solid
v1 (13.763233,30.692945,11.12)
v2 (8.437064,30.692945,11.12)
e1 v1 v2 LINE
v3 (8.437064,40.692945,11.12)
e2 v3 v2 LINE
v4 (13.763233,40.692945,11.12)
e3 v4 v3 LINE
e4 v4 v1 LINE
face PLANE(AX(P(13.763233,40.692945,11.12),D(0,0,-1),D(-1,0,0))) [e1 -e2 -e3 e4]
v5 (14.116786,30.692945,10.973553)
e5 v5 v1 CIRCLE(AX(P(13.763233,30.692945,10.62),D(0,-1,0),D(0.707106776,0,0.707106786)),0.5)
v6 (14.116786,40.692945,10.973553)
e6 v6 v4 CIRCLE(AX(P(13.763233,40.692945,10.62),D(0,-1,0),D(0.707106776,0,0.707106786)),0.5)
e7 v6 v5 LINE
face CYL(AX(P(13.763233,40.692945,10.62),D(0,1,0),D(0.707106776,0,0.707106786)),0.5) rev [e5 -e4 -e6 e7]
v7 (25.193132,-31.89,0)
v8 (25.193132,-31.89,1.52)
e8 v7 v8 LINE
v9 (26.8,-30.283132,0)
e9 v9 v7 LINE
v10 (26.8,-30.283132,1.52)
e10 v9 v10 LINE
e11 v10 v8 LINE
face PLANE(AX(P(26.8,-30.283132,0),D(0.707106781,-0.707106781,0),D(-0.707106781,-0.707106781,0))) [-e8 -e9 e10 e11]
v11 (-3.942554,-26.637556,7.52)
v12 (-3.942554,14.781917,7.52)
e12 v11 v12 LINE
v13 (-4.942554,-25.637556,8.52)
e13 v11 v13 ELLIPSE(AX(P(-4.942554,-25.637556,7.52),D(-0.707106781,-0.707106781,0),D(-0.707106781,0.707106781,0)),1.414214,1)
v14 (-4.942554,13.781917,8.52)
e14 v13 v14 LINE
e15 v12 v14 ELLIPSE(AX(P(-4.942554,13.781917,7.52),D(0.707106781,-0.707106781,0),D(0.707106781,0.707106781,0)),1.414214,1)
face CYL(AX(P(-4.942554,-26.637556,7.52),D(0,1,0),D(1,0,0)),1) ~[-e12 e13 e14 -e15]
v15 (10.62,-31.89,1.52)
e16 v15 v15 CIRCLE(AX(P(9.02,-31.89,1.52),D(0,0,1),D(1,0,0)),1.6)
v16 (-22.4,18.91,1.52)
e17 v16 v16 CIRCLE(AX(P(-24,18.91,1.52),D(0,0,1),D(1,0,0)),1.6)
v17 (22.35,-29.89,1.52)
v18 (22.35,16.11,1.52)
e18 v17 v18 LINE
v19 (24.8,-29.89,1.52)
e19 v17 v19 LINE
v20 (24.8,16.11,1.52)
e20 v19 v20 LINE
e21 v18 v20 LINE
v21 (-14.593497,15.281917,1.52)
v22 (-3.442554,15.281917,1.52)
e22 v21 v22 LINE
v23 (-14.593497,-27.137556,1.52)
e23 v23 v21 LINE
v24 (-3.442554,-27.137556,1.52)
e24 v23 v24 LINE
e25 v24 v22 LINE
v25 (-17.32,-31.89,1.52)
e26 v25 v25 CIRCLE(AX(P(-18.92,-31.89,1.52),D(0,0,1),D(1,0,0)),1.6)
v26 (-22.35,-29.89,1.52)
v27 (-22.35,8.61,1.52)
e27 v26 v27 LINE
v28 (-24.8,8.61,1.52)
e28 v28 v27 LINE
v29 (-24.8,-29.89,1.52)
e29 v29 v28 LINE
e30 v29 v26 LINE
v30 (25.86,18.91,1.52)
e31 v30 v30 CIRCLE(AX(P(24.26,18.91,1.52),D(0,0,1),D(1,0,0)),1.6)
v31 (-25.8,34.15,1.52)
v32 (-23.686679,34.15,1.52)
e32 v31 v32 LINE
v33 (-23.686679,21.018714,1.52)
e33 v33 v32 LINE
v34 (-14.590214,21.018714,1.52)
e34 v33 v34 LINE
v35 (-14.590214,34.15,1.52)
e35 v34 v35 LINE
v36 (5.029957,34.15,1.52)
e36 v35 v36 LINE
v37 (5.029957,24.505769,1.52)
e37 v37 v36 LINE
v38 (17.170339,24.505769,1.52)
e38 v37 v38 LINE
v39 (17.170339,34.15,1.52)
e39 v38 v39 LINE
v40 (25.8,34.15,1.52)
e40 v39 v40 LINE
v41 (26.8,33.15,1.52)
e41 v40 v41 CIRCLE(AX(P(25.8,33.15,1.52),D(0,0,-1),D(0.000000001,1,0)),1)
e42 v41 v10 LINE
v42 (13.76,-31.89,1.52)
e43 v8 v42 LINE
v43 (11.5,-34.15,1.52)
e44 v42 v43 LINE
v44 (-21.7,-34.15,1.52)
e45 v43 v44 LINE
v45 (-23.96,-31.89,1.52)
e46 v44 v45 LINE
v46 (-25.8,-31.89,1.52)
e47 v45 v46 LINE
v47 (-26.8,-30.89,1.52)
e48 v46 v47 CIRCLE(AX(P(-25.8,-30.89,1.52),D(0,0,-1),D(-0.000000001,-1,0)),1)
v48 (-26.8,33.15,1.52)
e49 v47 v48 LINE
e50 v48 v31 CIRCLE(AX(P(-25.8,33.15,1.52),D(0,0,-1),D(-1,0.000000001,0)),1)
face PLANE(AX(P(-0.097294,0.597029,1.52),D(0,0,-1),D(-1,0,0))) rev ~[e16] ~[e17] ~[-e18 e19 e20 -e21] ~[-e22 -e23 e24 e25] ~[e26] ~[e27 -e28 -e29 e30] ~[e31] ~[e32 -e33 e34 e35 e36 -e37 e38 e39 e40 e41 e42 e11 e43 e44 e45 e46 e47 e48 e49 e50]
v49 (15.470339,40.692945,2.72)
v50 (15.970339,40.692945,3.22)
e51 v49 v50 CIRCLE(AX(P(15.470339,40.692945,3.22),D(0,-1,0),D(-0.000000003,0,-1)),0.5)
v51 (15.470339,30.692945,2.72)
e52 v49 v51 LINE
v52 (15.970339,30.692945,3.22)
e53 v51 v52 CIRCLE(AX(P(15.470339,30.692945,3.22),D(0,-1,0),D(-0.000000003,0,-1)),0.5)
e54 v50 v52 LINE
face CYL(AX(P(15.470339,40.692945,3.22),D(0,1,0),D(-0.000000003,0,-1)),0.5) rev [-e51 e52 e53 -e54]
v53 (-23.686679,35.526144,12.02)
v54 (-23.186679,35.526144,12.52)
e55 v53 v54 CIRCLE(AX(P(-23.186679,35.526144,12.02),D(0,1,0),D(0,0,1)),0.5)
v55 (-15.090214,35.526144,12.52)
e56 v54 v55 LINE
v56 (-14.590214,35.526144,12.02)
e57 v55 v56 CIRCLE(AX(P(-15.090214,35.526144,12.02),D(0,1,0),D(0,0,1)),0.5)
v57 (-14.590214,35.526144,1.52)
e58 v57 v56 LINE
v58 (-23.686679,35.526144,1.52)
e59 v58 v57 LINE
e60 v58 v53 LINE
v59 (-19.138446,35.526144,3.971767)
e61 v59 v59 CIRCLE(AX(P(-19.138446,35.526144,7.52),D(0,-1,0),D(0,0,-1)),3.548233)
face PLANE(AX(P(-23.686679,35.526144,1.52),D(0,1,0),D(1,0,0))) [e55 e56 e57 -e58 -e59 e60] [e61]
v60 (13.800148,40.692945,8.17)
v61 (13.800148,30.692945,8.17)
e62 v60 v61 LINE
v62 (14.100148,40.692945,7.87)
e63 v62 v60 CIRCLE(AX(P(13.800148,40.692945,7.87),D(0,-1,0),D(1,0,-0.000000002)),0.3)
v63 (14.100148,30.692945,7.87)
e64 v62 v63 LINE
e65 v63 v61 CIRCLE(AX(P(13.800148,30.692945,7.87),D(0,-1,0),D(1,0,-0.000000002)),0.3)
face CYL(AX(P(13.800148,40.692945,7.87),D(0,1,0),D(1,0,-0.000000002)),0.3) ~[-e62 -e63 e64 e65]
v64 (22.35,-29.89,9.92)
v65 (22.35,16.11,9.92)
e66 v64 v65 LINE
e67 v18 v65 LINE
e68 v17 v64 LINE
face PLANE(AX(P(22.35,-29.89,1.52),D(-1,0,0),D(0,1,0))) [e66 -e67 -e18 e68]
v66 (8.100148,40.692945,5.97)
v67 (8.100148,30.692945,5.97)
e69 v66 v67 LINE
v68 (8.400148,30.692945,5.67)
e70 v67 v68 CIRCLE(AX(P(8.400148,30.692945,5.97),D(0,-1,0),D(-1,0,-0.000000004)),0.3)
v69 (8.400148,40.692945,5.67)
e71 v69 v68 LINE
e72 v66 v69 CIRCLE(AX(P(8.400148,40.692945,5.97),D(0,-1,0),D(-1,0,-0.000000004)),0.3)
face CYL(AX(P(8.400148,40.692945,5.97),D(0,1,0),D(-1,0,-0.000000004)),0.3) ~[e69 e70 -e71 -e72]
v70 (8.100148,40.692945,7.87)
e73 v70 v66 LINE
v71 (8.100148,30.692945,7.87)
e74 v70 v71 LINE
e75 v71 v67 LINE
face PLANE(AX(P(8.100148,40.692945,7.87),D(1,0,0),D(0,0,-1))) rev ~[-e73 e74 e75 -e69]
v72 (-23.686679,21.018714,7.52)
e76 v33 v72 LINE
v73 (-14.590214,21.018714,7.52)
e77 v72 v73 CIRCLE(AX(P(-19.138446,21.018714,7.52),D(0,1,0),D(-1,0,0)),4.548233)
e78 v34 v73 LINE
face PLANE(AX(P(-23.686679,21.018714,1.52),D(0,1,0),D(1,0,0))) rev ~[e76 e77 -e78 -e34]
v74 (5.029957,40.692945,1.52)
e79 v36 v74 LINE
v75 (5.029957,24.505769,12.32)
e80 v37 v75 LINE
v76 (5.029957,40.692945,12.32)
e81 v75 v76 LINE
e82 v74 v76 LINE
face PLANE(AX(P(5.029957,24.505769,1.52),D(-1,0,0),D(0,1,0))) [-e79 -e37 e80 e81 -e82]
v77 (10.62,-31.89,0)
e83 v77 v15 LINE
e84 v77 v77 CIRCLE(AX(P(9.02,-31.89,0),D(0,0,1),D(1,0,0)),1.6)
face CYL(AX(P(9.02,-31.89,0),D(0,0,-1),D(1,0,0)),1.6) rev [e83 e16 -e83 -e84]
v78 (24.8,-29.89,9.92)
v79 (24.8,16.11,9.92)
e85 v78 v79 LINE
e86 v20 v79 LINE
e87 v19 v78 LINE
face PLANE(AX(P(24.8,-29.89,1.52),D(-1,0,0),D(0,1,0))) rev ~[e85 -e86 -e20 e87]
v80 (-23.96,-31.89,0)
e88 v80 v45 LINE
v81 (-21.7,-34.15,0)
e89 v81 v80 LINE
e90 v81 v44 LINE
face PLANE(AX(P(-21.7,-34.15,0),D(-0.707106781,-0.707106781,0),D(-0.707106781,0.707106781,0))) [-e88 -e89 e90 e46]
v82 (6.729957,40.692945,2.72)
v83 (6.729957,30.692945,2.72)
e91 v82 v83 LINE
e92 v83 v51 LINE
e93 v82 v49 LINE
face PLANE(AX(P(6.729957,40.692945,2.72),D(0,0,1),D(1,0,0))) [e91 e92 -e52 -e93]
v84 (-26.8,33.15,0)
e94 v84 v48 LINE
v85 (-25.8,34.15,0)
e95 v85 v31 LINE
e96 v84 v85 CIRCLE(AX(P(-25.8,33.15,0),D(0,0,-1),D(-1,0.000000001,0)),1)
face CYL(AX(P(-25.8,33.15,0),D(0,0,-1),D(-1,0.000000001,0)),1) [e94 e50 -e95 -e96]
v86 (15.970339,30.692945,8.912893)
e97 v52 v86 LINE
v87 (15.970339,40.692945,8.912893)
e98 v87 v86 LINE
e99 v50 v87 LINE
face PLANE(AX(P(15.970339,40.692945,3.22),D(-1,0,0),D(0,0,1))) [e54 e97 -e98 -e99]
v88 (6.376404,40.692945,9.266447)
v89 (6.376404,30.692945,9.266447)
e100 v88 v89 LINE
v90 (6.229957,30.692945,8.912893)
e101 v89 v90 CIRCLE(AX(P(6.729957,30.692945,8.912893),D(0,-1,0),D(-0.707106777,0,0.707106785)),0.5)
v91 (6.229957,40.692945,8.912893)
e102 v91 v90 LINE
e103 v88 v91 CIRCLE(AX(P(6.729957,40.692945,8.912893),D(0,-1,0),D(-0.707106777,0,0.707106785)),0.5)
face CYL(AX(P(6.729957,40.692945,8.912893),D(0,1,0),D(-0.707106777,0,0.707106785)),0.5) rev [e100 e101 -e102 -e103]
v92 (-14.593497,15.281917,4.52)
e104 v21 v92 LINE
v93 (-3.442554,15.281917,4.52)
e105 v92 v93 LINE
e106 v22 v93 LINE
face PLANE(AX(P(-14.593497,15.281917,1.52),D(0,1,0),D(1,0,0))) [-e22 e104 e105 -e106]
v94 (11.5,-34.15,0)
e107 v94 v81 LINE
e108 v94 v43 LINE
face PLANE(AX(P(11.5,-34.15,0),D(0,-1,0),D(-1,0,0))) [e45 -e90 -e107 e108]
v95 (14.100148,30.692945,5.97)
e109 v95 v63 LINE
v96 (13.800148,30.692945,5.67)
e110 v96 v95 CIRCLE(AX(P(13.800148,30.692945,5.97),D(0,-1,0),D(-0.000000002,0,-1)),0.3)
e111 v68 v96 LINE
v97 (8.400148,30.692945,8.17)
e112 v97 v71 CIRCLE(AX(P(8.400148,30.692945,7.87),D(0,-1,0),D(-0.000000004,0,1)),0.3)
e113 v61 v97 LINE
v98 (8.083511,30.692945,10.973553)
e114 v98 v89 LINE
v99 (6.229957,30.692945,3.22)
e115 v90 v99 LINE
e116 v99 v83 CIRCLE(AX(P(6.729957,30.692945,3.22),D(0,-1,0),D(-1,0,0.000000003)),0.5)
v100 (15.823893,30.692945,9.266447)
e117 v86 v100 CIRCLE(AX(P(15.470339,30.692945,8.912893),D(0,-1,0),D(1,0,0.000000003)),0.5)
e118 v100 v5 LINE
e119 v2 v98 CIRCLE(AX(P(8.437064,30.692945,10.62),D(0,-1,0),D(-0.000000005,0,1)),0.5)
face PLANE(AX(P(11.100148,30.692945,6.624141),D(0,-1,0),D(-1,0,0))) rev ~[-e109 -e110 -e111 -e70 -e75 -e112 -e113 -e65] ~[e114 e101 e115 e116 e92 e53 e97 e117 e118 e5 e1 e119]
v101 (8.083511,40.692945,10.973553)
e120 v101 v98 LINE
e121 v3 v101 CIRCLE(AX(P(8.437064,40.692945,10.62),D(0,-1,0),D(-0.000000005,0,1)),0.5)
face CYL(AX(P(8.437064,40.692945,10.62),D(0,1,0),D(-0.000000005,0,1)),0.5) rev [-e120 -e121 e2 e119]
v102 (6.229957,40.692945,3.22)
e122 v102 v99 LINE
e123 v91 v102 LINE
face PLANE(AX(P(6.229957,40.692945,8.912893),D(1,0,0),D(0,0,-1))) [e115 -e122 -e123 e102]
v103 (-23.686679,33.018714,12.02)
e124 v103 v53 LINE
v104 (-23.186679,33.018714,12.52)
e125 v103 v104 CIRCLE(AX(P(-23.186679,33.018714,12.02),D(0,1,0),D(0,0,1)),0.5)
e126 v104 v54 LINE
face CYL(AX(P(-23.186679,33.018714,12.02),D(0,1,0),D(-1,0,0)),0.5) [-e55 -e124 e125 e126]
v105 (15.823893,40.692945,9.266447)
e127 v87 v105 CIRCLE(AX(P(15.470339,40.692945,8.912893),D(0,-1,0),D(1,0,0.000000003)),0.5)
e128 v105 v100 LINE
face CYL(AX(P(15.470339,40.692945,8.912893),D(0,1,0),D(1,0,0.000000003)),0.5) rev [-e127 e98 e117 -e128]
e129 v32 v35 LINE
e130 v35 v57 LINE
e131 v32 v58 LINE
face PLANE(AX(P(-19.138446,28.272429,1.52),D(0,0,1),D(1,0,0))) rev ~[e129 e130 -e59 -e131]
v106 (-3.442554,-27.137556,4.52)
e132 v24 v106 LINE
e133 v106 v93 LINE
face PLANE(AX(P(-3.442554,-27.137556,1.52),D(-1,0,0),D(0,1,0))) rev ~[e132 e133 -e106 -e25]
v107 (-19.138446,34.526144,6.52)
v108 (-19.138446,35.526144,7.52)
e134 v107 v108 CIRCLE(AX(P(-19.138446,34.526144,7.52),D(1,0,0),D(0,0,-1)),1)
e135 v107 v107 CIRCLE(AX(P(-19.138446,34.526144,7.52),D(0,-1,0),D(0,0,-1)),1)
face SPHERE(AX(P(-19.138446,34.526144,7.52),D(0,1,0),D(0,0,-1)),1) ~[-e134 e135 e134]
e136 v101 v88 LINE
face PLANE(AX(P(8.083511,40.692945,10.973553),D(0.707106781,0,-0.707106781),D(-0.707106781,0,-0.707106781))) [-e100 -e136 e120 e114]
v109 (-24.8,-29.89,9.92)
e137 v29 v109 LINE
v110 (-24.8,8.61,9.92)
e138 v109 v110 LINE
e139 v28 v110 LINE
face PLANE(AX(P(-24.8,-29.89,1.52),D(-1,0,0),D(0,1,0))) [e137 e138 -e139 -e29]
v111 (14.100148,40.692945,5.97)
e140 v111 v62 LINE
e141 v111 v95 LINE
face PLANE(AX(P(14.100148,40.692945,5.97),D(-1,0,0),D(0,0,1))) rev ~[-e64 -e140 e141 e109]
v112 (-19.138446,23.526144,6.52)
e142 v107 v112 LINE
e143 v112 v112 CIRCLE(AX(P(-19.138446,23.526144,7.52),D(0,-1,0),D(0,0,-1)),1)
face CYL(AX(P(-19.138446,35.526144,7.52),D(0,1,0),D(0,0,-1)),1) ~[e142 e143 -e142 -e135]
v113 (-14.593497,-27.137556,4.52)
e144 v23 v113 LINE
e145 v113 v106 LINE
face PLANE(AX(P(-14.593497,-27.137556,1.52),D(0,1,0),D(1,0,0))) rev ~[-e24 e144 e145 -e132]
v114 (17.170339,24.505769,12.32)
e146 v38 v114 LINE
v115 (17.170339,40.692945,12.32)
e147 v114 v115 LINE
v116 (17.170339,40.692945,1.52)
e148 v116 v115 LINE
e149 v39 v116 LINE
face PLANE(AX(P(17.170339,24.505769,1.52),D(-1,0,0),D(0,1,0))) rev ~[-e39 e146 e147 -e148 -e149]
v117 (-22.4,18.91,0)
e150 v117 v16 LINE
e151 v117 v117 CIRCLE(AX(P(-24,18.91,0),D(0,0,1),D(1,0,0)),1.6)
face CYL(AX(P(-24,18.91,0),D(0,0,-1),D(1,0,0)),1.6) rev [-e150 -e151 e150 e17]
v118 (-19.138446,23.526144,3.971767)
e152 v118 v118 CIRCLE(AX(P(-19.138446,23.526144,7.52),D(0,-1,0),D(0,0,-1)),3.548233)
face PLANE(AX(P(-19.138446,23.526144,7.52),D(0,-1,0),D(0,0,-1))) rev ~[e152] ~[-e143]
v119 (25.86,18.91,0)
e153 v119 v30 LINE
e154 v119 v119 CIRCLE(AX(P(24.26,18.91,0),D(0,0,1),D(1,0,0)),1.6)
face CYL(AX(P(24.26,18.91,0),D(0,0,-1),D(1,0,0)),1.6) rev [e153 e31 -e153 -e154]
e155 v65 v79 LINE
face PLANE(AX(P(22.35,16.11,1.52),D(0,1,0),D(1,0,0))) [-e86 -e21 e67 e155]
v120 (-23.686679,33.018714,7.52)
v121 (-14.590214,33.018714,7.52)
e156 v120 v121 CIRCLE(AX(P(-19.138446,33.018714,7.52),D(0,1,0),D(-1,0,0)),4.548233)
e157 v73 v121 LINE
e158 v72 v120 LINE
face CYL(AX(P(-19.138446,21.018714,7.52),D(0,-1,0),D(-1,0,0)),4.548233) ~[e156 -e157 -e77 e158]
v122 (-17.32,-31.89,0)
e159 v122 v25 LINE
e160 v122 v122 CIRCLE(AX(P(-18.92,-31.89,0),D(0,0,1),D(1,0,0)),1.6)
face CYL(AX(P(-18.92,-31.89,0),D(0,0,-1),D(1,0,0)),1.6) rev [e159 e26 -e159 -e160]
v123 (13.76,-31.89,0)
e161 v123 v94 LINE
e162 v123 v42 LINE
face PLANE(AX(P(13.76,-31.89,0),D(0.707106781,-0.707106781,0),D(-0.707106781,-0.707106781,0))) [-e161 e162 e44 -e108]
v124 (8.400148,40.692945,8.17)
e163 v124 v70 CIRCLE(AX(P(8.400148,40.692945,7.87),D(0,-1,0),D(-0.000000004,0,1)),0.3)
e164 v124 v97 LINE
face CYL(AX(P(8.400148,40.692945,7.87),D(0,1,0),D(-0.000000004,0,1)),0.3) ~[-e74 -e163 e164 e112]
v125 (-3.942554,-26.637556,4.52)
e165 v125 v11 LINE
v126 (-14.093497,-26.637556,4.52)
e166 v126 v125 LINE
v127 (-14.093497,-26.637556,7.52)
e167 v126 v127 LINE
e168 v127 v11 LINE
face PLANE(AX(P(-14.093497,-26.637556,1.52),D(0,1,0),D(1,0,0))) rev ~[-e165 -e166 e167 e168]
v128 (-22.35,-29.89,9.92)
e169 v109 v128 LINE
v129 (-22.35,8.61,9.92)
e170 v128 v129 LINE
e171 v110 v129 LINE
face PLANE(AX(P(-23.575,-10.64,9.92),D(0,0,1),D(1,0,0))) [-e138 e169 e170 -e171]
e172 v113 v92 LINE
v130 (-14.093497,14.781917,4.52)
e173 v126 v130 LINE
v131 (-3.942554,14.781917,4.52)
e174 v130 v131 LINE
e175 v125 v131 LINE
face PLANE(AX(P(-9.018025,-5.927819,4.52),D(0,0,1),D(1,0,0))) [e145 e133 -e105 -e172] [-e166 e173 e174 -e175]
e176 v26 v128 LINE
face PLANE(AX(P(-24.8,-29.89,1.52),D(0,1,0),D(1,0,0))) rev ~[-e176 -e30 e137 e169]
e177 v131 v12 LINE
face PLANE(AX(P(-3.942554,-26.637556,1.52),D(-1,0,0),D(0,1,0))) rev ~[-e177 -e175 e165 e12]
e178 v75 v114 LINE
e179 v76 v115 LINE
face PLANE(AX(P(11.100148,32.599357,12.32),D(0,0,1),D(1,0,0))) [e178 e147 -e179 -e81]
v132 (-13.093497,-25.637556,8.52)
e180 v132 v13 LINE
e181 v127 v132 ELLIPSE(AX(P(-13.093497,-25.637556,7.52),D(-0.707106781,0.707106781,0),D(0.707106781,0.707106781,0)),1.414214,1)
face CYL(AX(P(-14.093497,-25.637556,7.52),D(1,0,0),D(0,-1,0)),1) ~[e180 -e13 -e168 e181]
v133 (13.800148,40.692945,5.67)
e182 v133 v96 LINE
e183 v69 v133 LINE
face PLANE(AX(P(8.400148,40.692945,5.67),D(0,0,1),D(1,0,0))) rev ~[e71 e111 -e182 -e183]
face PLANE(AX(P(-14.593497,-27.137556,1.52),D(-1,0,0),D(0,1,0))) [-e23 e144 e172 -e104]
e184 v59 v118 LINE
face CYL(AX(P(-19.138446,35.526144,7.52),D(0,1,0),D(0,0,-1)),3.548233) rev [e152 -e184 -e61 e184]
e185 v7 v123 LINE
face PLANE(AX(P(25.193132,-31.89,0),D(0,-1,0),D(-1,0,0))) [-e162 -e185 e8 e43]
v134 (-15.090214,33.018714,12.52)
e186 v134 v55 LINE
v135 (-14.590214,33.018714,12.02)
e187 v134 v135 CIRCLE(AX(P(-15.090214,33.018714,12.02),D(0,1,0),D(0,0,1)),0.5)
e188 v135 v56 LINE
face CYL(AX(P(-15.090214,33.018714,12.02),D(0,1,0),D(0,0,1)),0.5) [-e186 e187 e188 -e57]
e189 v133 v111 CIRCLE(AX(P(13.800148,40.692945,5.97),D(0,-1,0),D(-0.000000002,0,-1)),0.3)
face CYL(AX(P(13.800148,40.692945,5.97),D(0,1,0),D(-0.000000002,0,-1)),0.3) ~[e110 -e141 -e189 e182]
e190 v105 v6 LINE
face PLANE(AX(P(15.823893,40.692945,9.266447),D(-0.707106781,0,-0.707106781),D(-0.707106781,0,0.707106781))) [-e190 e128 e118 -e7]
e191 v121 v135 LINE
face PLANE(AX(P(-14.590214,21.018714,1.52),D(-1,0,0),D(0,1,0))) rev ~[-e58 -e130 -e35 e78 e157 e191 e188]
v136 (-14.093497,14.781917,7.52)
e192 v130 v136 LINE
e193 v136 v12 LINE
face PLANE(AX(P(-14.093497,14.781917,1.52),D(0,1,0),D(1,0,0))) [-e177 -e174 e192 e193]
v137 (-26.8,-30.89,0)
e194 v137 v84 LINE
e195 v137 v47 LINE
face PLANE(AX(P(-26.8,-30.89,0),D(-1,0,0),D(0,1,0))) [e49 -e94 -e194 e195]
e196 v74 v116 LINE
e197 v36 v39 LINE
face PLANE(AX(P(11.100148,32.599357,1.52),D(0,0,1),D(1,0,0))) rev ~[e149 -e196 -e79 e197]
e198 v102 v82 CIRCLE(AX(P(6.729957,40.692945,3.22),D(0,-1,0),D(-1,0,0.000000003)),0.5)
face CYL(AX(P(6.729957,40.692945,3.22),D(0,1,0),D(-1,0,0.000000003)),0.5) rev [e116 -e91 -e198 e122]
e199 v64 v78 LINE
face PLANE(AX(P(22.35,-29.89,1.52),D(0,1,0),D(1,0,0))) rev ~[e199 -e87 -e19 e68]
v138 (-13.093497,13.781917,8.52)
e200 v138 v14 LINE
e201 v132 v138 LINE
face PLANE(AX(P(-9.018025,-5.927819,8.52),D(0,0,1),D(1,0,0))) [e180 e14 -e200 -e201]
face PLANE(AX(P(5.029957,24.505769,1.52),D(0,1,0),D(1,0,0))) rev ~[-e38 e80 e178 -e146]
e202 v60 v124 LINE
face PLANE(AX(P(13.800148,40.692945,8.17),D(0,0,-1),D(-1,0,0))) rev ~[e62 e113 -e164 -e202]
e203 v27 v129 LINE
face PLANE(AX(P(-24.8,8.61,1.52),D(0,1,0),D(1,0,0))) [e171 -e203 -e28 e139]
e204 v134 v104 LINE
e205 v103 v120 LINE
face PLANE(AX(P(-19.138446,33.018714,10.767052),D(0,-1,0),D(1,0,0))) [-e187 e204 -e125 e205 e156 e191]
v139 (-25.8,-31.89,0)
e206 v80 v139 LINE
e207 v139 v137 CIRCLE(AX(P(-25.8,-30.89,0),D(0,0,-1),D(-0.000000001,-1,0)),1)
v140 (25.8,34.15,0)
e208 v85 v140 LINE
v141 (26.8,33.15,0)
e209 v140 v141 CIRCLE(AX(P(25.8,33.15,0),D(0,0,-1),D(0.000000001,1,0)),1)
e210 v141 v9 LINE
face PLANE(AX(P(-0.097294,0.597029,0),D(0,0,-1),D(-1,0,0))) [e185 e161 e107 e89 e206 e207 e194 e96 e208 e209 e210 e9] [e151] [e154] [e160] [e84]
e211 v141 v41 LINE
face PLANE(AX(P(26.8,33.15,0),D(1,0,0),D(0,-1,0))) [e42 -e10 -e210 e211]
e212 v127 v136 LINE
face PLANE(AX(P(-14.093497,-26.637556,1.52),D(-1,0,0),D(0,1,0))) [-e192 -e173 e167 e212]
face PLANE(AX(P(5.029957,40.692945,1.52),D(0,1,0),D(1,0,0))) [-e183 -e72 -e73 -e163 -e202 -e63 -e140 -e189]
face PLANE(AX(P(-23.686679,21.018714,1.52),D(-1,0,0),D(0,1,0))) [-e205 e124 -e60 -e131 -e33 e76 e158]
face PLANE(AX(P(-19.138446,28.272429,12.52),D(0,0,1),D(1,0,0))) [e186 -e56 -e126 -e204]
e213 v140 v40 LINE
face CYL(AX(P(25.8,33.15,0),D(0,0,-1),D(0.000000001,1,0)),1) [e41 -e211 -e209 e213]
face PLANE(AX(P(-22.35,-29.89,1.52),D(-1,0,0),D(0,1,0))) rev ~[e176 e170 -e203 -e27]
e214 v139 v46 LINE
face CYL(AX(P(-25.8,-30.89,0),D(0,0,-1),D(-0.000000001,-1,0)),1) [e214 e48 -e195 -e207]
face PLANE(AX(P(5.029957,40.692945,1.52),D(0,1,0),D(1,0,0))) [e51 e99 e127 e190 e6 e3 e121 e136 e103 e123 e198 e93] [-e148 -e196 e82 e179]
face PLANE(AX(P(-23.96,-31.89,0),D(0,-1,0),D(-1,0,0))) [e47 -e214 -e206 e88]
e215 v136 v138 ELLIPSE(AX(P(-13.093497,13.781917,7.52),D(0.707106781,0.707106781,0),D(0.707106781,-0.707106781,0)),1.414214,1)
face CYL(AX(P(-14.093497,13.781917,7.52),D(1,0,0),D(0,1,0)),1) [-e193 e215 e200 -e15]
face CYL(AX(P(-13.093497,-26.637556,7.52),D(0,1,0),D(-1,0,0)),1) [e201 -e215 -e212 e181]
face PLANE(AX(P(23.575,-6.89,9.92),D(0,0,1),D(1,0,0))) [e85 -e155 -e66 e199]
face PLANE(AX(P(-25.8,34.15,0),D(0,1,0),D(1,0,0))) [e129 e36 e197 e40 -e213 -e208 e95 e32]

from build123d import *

# Parameters (mm, degrees)
ESBO_O2_R                = 1.6
RESSALTO_EXTRUS_O1_DEPTH = 1.52
ESBO_O3_W                = 9.096465254
ESBO_O3_H                = 14.507430643
RESSALTO_EXTRUS_O2_DEPTH = 11
ESBO_O4_W                = 2.45
ESBO_O4_H                = 38.5
ESBO_O4_H_2              = 46
RESSALTO_EXTRUS_O3_DEPTH = 8.4
CORTE_EXTRUS_O1_DEPTH    = 12
ESBO_O6_R                = 3.548232627
ESBO_O6_R_2              = 1
CORTE_EXTRUS_O2_DEPTH    = 12
FILETE1_R                = 1
FILETE2_R                = 0.5
ESBO_O7_W                = 12.140382315
ESBO_O7_H                = 16.18717642
RESSALTO_EXTRUS_O4_DEPTH = 10.8
CORTE_EXTRUS_O3_DEPTH    = 10
ESBO_O10_W               = 10.15094297
ESBO_O10_H               = 41.419472655
RESSALTO_EXTRUS_O5_DEPTH = 7
FILETE3_R                = 1
ESBO_O11_W               = 11.15094297
ESBO_O11_H               = 42.419472655
RESSALTO_EXTRUS_O6_DEPTH = 3


with BuildPart() as part:
    # Esboço2 → Ressalto-extrusão1 (new body)
    with BuildSketch(Plane.XY):
        with BuildLine():
            Line((26.8, -30.283131706), (25.193131706, -31.89))
            Line((25.193131706, -31.89), (13.76, -31.89))
            Line((13.76, -31.89), (11.5, -34.15))
            Line((11.5, -34.15), (-21.7, -34.15))
            Line((-21.7, -34.15), (-23.96, -31.89))
            Line((-23.96, -31.89), (-25.8, -31.89))
            ThreePointArc((-25.8, -31.89), (-26.507106781, -31.597106781), (-26.8, -30.89))
            Line((-26.8, -30.89), (-26.8, 33.15))
            ThreePointArc((-26.8, 33.15), (-26.507106781, 33.857106781), (-25.8, 34.15))
            Line((-25.8, 34.15), (25.8, 34.15))
            ThreePointArc((25.8, 34.15), (26.507106781, 33.857106781), (26.8, 33.15))
            Line((26.8, 33.15), (26.8, -30.283131706))
        make_face()
        with Locations((-24, 18.91)):
            Circle(ESBO_O2_R, mode=Mode.SUBTRACT)
        with Locations((24.26, 18.91)):
            Circle(ESBO_O2_R, mode=Mode.SUBTRACT)
        with Locations((-18.92, -31.89)):
            Circle(ESBO_O2_R, mode=Mode.SUBTRACT)
        with Locations((9.02, -31.89)):
            Circle(ESBO_O2_R, mode=Mode.SUBTRACT)
    extrude(amount=RESSALTO_EXTRUS_O1_DEPTH)

    # Esboço3 → Ressalto-extrusão2 (add)
    with BuildSketch(Plane.XY.offset(1.52)):
        with Locations((-19.138446447, 28.272429058)):
            Rectangle(ESBO_O3_W, ESBO_O3_H)
    extrude(amount=RESSALTO_EXTRUS_O2_DEPTH)

    # Esboço4 → Ressalto-extrusão3 (add)
    with BuildSketch(Plane.XY.offset(1.52)):
        with Locations((-23.575, -10.64)):
            Rectangle(ESBO_O4_W, ESBO_O4_H)
        with Locations((23.575, -6.89)):
            Rectangle(ESBO_O4_W, ESBO_O4_H_2)
    extrude(amount=RESSALTO_EXTRUS_O3_DEPTH)

    # Esboço5 → Corte-extrusão1 (cut)
    with BuildSketch(Plane.XZ.offset(-21.018713736)):
        with BuildLine():
            Line((-14.59021382, 7.52), (-14.59021382, 12.52))
            Line((-14.59021382, 12.52), (-23.686679074, 12.52))
            Line((-23.686679074, 12.52), (-23.686679074, 7.52))
            ThreePointArc((-23.686679074, 7.52), (-19.138446447, 12.068232627), (-14.59021382, 7.52))
        make_face()
    extrude(amount=-CORTE_EXTRUS_O1_DEPTH, mode=Mode.SUBTRACT)

    # Esboço6 → Corte-extrusão2 (cut)
    with BuildSketch(Plane.XZ.offset(-35.526144379)):
        with Locations(Location((-19.138446447, 7.52, 0), (0, 0, 270))):
            Circle(ESBO_O6_R)
        with Locations(Location((-19.138446447, 7.52, 0), (0, 0, 270))):
            Circle(ESBO_O6_R_2, mode=Mode.SUBTRACT)
    extrude(amount=CORTE_EXTRUS_O2_DEPTH, mode=Mode.SUBTRACT)

    # Filete1
    filete1_edges = [part.edges().sort_by_distance(p)[0] for p in [
        (-19.138446447, 35.526144379, 8.52),
    ]]
    fillet(filete1_edges, radius=FILETE1_R)

    # Filete2
    filete2_edges = [part.edges().sort_by_distance(p)[0] for p in [
        (-23.686679074, 34.272429057, 12.52),
        (-14.59021382, 34.272429057, 12.52),
    ]]
    fillet(filete2_edges, radius=FILETE2_R)

    # Esboço7 → Ressalto-extrusão4 (add)
    with BuildSketch(Plane.XY.offset(1.52)):
        with Locations((11.10014829, 32.59935696)):
            Rectangle(ESBO_O7_W, ESBO_O7_H)
    extrude(amount=RESSALTO_EXTRUS_O4_DEPTH)

    # Esboço9 → Corte-extrusão3 (cut)
    with BuildSketch(Plane(origin=(0, 40.69294517, 0), x_dir=(1, 0, 0), z_dir=(0, 1, 0))):
        with BuildLine():
            Line((6.729957133, -2.72), (15.470339448, -2.72))
            ThreePointArc((15.470339448, -2.72), (15.823892839, -2.866446609), (15.970339448, -3.22))
            Line((15.970339448, -3.22), (15.970339448, -8.912893219))
            ThreePointArc((15.970339448, -8.912893219), (15.932279214, -9.104234935), (15.823892839, -9.266446609))
            Line((15.823892839, -9.266446609), (14.116786058, -10.973553391))
            ThreePointArc((14.116786058, -10.973553391), (13.954574383, -11.081939766), (13.763232667, -11.12))
            Line((13.763232667, -11.12), (8.437063914, -11.12))
            ThreePointArc((8.437063914, -11.12), (8.245722198, -11.081939766), (8.083510523, -10.973553391))
            Line((8.083510523, -10.973553391), (6.376403742, -9.266446609))
            ThreePointArc((6.376403742, -9.266446609), (6.268017366, -9.104234935), (6.229957133, -8.912893219))
            Line((6.229957133, -8.912893219), (6.229957133, -3.22))
            ThreePointArc((6.229957133, -3.22), (6.376403742, -2.866446609), (6.729957133, -2.72))
        make_face()
        with BuildLine():
            Line((13.80014829, -8.17), (8.40014829, -8.17))
            ThreePointArc((8.40014829, -8.17), (8.188016256, -8.082132034), (8.10014829, -7.87))
            Line((8.10014829, -7.87), (8.10014829, -5.97))
            ThreePointArc((8.10014829, -5.97), (8.188016256, -5.757867966), (8.40014829, -5.67))
            Line((8.40014829, -5.67), (13.80014829, -5.67))
            ThreePointArc((13.80014829, -5.67), (14.012280325, -5.757867966), (14.10014829, -5.97))
            Line((14.10014829, -5.97), (14.10014829, -7.87))
            ThreePointArc((14.10014829, -7.87), (14.012280325, -8.082132034), (13.80014829, -8.17))
        make_face(mode=Mode.SUBTRACT)
    extrude(amount=-CORTE_EXTRUS_O3_DEPTH, mode=Mode.SUBTRACT)

    # Esboço10 → Ressalto-extrusão5 (add)
    with BuildSketch(Plane.XY.offset(1.52)):
        with Locations((-9.018025228, -5.927819482)):
            Rectangle(ESBO_O10_W, ESBO_O10_H)
    extrude(amount=RESSALTO_EXTRUS_O5_DEPTH)

    # Filete3
    filete3_edges = [part.edges().sort_by_distance(p)[0] for p in [
        (-3.942553743, -5.927819482, 8.52),
        (-9.018025228, 14.781916846, 8.52),
        (-14.093496713, -5.927819482, 8.52),
        (-9.018025228, -26.637555809, 8.52),
    ]]
    fillet(filete3_edges, radius=FILETE3_R)

    # Esboço11 → Ressalto-extrusão6 (add)
    with BuildSketch(Plane.XY.offset(1.52)):
        with Locations((-9.018025228, -5.927819482)):
            Rectangle(ESBO_O11_W, ESBO_O11_H)
    extrude(amount=RESSALTO_EXTRUS_O6_DEPTH)


solid = part.part
